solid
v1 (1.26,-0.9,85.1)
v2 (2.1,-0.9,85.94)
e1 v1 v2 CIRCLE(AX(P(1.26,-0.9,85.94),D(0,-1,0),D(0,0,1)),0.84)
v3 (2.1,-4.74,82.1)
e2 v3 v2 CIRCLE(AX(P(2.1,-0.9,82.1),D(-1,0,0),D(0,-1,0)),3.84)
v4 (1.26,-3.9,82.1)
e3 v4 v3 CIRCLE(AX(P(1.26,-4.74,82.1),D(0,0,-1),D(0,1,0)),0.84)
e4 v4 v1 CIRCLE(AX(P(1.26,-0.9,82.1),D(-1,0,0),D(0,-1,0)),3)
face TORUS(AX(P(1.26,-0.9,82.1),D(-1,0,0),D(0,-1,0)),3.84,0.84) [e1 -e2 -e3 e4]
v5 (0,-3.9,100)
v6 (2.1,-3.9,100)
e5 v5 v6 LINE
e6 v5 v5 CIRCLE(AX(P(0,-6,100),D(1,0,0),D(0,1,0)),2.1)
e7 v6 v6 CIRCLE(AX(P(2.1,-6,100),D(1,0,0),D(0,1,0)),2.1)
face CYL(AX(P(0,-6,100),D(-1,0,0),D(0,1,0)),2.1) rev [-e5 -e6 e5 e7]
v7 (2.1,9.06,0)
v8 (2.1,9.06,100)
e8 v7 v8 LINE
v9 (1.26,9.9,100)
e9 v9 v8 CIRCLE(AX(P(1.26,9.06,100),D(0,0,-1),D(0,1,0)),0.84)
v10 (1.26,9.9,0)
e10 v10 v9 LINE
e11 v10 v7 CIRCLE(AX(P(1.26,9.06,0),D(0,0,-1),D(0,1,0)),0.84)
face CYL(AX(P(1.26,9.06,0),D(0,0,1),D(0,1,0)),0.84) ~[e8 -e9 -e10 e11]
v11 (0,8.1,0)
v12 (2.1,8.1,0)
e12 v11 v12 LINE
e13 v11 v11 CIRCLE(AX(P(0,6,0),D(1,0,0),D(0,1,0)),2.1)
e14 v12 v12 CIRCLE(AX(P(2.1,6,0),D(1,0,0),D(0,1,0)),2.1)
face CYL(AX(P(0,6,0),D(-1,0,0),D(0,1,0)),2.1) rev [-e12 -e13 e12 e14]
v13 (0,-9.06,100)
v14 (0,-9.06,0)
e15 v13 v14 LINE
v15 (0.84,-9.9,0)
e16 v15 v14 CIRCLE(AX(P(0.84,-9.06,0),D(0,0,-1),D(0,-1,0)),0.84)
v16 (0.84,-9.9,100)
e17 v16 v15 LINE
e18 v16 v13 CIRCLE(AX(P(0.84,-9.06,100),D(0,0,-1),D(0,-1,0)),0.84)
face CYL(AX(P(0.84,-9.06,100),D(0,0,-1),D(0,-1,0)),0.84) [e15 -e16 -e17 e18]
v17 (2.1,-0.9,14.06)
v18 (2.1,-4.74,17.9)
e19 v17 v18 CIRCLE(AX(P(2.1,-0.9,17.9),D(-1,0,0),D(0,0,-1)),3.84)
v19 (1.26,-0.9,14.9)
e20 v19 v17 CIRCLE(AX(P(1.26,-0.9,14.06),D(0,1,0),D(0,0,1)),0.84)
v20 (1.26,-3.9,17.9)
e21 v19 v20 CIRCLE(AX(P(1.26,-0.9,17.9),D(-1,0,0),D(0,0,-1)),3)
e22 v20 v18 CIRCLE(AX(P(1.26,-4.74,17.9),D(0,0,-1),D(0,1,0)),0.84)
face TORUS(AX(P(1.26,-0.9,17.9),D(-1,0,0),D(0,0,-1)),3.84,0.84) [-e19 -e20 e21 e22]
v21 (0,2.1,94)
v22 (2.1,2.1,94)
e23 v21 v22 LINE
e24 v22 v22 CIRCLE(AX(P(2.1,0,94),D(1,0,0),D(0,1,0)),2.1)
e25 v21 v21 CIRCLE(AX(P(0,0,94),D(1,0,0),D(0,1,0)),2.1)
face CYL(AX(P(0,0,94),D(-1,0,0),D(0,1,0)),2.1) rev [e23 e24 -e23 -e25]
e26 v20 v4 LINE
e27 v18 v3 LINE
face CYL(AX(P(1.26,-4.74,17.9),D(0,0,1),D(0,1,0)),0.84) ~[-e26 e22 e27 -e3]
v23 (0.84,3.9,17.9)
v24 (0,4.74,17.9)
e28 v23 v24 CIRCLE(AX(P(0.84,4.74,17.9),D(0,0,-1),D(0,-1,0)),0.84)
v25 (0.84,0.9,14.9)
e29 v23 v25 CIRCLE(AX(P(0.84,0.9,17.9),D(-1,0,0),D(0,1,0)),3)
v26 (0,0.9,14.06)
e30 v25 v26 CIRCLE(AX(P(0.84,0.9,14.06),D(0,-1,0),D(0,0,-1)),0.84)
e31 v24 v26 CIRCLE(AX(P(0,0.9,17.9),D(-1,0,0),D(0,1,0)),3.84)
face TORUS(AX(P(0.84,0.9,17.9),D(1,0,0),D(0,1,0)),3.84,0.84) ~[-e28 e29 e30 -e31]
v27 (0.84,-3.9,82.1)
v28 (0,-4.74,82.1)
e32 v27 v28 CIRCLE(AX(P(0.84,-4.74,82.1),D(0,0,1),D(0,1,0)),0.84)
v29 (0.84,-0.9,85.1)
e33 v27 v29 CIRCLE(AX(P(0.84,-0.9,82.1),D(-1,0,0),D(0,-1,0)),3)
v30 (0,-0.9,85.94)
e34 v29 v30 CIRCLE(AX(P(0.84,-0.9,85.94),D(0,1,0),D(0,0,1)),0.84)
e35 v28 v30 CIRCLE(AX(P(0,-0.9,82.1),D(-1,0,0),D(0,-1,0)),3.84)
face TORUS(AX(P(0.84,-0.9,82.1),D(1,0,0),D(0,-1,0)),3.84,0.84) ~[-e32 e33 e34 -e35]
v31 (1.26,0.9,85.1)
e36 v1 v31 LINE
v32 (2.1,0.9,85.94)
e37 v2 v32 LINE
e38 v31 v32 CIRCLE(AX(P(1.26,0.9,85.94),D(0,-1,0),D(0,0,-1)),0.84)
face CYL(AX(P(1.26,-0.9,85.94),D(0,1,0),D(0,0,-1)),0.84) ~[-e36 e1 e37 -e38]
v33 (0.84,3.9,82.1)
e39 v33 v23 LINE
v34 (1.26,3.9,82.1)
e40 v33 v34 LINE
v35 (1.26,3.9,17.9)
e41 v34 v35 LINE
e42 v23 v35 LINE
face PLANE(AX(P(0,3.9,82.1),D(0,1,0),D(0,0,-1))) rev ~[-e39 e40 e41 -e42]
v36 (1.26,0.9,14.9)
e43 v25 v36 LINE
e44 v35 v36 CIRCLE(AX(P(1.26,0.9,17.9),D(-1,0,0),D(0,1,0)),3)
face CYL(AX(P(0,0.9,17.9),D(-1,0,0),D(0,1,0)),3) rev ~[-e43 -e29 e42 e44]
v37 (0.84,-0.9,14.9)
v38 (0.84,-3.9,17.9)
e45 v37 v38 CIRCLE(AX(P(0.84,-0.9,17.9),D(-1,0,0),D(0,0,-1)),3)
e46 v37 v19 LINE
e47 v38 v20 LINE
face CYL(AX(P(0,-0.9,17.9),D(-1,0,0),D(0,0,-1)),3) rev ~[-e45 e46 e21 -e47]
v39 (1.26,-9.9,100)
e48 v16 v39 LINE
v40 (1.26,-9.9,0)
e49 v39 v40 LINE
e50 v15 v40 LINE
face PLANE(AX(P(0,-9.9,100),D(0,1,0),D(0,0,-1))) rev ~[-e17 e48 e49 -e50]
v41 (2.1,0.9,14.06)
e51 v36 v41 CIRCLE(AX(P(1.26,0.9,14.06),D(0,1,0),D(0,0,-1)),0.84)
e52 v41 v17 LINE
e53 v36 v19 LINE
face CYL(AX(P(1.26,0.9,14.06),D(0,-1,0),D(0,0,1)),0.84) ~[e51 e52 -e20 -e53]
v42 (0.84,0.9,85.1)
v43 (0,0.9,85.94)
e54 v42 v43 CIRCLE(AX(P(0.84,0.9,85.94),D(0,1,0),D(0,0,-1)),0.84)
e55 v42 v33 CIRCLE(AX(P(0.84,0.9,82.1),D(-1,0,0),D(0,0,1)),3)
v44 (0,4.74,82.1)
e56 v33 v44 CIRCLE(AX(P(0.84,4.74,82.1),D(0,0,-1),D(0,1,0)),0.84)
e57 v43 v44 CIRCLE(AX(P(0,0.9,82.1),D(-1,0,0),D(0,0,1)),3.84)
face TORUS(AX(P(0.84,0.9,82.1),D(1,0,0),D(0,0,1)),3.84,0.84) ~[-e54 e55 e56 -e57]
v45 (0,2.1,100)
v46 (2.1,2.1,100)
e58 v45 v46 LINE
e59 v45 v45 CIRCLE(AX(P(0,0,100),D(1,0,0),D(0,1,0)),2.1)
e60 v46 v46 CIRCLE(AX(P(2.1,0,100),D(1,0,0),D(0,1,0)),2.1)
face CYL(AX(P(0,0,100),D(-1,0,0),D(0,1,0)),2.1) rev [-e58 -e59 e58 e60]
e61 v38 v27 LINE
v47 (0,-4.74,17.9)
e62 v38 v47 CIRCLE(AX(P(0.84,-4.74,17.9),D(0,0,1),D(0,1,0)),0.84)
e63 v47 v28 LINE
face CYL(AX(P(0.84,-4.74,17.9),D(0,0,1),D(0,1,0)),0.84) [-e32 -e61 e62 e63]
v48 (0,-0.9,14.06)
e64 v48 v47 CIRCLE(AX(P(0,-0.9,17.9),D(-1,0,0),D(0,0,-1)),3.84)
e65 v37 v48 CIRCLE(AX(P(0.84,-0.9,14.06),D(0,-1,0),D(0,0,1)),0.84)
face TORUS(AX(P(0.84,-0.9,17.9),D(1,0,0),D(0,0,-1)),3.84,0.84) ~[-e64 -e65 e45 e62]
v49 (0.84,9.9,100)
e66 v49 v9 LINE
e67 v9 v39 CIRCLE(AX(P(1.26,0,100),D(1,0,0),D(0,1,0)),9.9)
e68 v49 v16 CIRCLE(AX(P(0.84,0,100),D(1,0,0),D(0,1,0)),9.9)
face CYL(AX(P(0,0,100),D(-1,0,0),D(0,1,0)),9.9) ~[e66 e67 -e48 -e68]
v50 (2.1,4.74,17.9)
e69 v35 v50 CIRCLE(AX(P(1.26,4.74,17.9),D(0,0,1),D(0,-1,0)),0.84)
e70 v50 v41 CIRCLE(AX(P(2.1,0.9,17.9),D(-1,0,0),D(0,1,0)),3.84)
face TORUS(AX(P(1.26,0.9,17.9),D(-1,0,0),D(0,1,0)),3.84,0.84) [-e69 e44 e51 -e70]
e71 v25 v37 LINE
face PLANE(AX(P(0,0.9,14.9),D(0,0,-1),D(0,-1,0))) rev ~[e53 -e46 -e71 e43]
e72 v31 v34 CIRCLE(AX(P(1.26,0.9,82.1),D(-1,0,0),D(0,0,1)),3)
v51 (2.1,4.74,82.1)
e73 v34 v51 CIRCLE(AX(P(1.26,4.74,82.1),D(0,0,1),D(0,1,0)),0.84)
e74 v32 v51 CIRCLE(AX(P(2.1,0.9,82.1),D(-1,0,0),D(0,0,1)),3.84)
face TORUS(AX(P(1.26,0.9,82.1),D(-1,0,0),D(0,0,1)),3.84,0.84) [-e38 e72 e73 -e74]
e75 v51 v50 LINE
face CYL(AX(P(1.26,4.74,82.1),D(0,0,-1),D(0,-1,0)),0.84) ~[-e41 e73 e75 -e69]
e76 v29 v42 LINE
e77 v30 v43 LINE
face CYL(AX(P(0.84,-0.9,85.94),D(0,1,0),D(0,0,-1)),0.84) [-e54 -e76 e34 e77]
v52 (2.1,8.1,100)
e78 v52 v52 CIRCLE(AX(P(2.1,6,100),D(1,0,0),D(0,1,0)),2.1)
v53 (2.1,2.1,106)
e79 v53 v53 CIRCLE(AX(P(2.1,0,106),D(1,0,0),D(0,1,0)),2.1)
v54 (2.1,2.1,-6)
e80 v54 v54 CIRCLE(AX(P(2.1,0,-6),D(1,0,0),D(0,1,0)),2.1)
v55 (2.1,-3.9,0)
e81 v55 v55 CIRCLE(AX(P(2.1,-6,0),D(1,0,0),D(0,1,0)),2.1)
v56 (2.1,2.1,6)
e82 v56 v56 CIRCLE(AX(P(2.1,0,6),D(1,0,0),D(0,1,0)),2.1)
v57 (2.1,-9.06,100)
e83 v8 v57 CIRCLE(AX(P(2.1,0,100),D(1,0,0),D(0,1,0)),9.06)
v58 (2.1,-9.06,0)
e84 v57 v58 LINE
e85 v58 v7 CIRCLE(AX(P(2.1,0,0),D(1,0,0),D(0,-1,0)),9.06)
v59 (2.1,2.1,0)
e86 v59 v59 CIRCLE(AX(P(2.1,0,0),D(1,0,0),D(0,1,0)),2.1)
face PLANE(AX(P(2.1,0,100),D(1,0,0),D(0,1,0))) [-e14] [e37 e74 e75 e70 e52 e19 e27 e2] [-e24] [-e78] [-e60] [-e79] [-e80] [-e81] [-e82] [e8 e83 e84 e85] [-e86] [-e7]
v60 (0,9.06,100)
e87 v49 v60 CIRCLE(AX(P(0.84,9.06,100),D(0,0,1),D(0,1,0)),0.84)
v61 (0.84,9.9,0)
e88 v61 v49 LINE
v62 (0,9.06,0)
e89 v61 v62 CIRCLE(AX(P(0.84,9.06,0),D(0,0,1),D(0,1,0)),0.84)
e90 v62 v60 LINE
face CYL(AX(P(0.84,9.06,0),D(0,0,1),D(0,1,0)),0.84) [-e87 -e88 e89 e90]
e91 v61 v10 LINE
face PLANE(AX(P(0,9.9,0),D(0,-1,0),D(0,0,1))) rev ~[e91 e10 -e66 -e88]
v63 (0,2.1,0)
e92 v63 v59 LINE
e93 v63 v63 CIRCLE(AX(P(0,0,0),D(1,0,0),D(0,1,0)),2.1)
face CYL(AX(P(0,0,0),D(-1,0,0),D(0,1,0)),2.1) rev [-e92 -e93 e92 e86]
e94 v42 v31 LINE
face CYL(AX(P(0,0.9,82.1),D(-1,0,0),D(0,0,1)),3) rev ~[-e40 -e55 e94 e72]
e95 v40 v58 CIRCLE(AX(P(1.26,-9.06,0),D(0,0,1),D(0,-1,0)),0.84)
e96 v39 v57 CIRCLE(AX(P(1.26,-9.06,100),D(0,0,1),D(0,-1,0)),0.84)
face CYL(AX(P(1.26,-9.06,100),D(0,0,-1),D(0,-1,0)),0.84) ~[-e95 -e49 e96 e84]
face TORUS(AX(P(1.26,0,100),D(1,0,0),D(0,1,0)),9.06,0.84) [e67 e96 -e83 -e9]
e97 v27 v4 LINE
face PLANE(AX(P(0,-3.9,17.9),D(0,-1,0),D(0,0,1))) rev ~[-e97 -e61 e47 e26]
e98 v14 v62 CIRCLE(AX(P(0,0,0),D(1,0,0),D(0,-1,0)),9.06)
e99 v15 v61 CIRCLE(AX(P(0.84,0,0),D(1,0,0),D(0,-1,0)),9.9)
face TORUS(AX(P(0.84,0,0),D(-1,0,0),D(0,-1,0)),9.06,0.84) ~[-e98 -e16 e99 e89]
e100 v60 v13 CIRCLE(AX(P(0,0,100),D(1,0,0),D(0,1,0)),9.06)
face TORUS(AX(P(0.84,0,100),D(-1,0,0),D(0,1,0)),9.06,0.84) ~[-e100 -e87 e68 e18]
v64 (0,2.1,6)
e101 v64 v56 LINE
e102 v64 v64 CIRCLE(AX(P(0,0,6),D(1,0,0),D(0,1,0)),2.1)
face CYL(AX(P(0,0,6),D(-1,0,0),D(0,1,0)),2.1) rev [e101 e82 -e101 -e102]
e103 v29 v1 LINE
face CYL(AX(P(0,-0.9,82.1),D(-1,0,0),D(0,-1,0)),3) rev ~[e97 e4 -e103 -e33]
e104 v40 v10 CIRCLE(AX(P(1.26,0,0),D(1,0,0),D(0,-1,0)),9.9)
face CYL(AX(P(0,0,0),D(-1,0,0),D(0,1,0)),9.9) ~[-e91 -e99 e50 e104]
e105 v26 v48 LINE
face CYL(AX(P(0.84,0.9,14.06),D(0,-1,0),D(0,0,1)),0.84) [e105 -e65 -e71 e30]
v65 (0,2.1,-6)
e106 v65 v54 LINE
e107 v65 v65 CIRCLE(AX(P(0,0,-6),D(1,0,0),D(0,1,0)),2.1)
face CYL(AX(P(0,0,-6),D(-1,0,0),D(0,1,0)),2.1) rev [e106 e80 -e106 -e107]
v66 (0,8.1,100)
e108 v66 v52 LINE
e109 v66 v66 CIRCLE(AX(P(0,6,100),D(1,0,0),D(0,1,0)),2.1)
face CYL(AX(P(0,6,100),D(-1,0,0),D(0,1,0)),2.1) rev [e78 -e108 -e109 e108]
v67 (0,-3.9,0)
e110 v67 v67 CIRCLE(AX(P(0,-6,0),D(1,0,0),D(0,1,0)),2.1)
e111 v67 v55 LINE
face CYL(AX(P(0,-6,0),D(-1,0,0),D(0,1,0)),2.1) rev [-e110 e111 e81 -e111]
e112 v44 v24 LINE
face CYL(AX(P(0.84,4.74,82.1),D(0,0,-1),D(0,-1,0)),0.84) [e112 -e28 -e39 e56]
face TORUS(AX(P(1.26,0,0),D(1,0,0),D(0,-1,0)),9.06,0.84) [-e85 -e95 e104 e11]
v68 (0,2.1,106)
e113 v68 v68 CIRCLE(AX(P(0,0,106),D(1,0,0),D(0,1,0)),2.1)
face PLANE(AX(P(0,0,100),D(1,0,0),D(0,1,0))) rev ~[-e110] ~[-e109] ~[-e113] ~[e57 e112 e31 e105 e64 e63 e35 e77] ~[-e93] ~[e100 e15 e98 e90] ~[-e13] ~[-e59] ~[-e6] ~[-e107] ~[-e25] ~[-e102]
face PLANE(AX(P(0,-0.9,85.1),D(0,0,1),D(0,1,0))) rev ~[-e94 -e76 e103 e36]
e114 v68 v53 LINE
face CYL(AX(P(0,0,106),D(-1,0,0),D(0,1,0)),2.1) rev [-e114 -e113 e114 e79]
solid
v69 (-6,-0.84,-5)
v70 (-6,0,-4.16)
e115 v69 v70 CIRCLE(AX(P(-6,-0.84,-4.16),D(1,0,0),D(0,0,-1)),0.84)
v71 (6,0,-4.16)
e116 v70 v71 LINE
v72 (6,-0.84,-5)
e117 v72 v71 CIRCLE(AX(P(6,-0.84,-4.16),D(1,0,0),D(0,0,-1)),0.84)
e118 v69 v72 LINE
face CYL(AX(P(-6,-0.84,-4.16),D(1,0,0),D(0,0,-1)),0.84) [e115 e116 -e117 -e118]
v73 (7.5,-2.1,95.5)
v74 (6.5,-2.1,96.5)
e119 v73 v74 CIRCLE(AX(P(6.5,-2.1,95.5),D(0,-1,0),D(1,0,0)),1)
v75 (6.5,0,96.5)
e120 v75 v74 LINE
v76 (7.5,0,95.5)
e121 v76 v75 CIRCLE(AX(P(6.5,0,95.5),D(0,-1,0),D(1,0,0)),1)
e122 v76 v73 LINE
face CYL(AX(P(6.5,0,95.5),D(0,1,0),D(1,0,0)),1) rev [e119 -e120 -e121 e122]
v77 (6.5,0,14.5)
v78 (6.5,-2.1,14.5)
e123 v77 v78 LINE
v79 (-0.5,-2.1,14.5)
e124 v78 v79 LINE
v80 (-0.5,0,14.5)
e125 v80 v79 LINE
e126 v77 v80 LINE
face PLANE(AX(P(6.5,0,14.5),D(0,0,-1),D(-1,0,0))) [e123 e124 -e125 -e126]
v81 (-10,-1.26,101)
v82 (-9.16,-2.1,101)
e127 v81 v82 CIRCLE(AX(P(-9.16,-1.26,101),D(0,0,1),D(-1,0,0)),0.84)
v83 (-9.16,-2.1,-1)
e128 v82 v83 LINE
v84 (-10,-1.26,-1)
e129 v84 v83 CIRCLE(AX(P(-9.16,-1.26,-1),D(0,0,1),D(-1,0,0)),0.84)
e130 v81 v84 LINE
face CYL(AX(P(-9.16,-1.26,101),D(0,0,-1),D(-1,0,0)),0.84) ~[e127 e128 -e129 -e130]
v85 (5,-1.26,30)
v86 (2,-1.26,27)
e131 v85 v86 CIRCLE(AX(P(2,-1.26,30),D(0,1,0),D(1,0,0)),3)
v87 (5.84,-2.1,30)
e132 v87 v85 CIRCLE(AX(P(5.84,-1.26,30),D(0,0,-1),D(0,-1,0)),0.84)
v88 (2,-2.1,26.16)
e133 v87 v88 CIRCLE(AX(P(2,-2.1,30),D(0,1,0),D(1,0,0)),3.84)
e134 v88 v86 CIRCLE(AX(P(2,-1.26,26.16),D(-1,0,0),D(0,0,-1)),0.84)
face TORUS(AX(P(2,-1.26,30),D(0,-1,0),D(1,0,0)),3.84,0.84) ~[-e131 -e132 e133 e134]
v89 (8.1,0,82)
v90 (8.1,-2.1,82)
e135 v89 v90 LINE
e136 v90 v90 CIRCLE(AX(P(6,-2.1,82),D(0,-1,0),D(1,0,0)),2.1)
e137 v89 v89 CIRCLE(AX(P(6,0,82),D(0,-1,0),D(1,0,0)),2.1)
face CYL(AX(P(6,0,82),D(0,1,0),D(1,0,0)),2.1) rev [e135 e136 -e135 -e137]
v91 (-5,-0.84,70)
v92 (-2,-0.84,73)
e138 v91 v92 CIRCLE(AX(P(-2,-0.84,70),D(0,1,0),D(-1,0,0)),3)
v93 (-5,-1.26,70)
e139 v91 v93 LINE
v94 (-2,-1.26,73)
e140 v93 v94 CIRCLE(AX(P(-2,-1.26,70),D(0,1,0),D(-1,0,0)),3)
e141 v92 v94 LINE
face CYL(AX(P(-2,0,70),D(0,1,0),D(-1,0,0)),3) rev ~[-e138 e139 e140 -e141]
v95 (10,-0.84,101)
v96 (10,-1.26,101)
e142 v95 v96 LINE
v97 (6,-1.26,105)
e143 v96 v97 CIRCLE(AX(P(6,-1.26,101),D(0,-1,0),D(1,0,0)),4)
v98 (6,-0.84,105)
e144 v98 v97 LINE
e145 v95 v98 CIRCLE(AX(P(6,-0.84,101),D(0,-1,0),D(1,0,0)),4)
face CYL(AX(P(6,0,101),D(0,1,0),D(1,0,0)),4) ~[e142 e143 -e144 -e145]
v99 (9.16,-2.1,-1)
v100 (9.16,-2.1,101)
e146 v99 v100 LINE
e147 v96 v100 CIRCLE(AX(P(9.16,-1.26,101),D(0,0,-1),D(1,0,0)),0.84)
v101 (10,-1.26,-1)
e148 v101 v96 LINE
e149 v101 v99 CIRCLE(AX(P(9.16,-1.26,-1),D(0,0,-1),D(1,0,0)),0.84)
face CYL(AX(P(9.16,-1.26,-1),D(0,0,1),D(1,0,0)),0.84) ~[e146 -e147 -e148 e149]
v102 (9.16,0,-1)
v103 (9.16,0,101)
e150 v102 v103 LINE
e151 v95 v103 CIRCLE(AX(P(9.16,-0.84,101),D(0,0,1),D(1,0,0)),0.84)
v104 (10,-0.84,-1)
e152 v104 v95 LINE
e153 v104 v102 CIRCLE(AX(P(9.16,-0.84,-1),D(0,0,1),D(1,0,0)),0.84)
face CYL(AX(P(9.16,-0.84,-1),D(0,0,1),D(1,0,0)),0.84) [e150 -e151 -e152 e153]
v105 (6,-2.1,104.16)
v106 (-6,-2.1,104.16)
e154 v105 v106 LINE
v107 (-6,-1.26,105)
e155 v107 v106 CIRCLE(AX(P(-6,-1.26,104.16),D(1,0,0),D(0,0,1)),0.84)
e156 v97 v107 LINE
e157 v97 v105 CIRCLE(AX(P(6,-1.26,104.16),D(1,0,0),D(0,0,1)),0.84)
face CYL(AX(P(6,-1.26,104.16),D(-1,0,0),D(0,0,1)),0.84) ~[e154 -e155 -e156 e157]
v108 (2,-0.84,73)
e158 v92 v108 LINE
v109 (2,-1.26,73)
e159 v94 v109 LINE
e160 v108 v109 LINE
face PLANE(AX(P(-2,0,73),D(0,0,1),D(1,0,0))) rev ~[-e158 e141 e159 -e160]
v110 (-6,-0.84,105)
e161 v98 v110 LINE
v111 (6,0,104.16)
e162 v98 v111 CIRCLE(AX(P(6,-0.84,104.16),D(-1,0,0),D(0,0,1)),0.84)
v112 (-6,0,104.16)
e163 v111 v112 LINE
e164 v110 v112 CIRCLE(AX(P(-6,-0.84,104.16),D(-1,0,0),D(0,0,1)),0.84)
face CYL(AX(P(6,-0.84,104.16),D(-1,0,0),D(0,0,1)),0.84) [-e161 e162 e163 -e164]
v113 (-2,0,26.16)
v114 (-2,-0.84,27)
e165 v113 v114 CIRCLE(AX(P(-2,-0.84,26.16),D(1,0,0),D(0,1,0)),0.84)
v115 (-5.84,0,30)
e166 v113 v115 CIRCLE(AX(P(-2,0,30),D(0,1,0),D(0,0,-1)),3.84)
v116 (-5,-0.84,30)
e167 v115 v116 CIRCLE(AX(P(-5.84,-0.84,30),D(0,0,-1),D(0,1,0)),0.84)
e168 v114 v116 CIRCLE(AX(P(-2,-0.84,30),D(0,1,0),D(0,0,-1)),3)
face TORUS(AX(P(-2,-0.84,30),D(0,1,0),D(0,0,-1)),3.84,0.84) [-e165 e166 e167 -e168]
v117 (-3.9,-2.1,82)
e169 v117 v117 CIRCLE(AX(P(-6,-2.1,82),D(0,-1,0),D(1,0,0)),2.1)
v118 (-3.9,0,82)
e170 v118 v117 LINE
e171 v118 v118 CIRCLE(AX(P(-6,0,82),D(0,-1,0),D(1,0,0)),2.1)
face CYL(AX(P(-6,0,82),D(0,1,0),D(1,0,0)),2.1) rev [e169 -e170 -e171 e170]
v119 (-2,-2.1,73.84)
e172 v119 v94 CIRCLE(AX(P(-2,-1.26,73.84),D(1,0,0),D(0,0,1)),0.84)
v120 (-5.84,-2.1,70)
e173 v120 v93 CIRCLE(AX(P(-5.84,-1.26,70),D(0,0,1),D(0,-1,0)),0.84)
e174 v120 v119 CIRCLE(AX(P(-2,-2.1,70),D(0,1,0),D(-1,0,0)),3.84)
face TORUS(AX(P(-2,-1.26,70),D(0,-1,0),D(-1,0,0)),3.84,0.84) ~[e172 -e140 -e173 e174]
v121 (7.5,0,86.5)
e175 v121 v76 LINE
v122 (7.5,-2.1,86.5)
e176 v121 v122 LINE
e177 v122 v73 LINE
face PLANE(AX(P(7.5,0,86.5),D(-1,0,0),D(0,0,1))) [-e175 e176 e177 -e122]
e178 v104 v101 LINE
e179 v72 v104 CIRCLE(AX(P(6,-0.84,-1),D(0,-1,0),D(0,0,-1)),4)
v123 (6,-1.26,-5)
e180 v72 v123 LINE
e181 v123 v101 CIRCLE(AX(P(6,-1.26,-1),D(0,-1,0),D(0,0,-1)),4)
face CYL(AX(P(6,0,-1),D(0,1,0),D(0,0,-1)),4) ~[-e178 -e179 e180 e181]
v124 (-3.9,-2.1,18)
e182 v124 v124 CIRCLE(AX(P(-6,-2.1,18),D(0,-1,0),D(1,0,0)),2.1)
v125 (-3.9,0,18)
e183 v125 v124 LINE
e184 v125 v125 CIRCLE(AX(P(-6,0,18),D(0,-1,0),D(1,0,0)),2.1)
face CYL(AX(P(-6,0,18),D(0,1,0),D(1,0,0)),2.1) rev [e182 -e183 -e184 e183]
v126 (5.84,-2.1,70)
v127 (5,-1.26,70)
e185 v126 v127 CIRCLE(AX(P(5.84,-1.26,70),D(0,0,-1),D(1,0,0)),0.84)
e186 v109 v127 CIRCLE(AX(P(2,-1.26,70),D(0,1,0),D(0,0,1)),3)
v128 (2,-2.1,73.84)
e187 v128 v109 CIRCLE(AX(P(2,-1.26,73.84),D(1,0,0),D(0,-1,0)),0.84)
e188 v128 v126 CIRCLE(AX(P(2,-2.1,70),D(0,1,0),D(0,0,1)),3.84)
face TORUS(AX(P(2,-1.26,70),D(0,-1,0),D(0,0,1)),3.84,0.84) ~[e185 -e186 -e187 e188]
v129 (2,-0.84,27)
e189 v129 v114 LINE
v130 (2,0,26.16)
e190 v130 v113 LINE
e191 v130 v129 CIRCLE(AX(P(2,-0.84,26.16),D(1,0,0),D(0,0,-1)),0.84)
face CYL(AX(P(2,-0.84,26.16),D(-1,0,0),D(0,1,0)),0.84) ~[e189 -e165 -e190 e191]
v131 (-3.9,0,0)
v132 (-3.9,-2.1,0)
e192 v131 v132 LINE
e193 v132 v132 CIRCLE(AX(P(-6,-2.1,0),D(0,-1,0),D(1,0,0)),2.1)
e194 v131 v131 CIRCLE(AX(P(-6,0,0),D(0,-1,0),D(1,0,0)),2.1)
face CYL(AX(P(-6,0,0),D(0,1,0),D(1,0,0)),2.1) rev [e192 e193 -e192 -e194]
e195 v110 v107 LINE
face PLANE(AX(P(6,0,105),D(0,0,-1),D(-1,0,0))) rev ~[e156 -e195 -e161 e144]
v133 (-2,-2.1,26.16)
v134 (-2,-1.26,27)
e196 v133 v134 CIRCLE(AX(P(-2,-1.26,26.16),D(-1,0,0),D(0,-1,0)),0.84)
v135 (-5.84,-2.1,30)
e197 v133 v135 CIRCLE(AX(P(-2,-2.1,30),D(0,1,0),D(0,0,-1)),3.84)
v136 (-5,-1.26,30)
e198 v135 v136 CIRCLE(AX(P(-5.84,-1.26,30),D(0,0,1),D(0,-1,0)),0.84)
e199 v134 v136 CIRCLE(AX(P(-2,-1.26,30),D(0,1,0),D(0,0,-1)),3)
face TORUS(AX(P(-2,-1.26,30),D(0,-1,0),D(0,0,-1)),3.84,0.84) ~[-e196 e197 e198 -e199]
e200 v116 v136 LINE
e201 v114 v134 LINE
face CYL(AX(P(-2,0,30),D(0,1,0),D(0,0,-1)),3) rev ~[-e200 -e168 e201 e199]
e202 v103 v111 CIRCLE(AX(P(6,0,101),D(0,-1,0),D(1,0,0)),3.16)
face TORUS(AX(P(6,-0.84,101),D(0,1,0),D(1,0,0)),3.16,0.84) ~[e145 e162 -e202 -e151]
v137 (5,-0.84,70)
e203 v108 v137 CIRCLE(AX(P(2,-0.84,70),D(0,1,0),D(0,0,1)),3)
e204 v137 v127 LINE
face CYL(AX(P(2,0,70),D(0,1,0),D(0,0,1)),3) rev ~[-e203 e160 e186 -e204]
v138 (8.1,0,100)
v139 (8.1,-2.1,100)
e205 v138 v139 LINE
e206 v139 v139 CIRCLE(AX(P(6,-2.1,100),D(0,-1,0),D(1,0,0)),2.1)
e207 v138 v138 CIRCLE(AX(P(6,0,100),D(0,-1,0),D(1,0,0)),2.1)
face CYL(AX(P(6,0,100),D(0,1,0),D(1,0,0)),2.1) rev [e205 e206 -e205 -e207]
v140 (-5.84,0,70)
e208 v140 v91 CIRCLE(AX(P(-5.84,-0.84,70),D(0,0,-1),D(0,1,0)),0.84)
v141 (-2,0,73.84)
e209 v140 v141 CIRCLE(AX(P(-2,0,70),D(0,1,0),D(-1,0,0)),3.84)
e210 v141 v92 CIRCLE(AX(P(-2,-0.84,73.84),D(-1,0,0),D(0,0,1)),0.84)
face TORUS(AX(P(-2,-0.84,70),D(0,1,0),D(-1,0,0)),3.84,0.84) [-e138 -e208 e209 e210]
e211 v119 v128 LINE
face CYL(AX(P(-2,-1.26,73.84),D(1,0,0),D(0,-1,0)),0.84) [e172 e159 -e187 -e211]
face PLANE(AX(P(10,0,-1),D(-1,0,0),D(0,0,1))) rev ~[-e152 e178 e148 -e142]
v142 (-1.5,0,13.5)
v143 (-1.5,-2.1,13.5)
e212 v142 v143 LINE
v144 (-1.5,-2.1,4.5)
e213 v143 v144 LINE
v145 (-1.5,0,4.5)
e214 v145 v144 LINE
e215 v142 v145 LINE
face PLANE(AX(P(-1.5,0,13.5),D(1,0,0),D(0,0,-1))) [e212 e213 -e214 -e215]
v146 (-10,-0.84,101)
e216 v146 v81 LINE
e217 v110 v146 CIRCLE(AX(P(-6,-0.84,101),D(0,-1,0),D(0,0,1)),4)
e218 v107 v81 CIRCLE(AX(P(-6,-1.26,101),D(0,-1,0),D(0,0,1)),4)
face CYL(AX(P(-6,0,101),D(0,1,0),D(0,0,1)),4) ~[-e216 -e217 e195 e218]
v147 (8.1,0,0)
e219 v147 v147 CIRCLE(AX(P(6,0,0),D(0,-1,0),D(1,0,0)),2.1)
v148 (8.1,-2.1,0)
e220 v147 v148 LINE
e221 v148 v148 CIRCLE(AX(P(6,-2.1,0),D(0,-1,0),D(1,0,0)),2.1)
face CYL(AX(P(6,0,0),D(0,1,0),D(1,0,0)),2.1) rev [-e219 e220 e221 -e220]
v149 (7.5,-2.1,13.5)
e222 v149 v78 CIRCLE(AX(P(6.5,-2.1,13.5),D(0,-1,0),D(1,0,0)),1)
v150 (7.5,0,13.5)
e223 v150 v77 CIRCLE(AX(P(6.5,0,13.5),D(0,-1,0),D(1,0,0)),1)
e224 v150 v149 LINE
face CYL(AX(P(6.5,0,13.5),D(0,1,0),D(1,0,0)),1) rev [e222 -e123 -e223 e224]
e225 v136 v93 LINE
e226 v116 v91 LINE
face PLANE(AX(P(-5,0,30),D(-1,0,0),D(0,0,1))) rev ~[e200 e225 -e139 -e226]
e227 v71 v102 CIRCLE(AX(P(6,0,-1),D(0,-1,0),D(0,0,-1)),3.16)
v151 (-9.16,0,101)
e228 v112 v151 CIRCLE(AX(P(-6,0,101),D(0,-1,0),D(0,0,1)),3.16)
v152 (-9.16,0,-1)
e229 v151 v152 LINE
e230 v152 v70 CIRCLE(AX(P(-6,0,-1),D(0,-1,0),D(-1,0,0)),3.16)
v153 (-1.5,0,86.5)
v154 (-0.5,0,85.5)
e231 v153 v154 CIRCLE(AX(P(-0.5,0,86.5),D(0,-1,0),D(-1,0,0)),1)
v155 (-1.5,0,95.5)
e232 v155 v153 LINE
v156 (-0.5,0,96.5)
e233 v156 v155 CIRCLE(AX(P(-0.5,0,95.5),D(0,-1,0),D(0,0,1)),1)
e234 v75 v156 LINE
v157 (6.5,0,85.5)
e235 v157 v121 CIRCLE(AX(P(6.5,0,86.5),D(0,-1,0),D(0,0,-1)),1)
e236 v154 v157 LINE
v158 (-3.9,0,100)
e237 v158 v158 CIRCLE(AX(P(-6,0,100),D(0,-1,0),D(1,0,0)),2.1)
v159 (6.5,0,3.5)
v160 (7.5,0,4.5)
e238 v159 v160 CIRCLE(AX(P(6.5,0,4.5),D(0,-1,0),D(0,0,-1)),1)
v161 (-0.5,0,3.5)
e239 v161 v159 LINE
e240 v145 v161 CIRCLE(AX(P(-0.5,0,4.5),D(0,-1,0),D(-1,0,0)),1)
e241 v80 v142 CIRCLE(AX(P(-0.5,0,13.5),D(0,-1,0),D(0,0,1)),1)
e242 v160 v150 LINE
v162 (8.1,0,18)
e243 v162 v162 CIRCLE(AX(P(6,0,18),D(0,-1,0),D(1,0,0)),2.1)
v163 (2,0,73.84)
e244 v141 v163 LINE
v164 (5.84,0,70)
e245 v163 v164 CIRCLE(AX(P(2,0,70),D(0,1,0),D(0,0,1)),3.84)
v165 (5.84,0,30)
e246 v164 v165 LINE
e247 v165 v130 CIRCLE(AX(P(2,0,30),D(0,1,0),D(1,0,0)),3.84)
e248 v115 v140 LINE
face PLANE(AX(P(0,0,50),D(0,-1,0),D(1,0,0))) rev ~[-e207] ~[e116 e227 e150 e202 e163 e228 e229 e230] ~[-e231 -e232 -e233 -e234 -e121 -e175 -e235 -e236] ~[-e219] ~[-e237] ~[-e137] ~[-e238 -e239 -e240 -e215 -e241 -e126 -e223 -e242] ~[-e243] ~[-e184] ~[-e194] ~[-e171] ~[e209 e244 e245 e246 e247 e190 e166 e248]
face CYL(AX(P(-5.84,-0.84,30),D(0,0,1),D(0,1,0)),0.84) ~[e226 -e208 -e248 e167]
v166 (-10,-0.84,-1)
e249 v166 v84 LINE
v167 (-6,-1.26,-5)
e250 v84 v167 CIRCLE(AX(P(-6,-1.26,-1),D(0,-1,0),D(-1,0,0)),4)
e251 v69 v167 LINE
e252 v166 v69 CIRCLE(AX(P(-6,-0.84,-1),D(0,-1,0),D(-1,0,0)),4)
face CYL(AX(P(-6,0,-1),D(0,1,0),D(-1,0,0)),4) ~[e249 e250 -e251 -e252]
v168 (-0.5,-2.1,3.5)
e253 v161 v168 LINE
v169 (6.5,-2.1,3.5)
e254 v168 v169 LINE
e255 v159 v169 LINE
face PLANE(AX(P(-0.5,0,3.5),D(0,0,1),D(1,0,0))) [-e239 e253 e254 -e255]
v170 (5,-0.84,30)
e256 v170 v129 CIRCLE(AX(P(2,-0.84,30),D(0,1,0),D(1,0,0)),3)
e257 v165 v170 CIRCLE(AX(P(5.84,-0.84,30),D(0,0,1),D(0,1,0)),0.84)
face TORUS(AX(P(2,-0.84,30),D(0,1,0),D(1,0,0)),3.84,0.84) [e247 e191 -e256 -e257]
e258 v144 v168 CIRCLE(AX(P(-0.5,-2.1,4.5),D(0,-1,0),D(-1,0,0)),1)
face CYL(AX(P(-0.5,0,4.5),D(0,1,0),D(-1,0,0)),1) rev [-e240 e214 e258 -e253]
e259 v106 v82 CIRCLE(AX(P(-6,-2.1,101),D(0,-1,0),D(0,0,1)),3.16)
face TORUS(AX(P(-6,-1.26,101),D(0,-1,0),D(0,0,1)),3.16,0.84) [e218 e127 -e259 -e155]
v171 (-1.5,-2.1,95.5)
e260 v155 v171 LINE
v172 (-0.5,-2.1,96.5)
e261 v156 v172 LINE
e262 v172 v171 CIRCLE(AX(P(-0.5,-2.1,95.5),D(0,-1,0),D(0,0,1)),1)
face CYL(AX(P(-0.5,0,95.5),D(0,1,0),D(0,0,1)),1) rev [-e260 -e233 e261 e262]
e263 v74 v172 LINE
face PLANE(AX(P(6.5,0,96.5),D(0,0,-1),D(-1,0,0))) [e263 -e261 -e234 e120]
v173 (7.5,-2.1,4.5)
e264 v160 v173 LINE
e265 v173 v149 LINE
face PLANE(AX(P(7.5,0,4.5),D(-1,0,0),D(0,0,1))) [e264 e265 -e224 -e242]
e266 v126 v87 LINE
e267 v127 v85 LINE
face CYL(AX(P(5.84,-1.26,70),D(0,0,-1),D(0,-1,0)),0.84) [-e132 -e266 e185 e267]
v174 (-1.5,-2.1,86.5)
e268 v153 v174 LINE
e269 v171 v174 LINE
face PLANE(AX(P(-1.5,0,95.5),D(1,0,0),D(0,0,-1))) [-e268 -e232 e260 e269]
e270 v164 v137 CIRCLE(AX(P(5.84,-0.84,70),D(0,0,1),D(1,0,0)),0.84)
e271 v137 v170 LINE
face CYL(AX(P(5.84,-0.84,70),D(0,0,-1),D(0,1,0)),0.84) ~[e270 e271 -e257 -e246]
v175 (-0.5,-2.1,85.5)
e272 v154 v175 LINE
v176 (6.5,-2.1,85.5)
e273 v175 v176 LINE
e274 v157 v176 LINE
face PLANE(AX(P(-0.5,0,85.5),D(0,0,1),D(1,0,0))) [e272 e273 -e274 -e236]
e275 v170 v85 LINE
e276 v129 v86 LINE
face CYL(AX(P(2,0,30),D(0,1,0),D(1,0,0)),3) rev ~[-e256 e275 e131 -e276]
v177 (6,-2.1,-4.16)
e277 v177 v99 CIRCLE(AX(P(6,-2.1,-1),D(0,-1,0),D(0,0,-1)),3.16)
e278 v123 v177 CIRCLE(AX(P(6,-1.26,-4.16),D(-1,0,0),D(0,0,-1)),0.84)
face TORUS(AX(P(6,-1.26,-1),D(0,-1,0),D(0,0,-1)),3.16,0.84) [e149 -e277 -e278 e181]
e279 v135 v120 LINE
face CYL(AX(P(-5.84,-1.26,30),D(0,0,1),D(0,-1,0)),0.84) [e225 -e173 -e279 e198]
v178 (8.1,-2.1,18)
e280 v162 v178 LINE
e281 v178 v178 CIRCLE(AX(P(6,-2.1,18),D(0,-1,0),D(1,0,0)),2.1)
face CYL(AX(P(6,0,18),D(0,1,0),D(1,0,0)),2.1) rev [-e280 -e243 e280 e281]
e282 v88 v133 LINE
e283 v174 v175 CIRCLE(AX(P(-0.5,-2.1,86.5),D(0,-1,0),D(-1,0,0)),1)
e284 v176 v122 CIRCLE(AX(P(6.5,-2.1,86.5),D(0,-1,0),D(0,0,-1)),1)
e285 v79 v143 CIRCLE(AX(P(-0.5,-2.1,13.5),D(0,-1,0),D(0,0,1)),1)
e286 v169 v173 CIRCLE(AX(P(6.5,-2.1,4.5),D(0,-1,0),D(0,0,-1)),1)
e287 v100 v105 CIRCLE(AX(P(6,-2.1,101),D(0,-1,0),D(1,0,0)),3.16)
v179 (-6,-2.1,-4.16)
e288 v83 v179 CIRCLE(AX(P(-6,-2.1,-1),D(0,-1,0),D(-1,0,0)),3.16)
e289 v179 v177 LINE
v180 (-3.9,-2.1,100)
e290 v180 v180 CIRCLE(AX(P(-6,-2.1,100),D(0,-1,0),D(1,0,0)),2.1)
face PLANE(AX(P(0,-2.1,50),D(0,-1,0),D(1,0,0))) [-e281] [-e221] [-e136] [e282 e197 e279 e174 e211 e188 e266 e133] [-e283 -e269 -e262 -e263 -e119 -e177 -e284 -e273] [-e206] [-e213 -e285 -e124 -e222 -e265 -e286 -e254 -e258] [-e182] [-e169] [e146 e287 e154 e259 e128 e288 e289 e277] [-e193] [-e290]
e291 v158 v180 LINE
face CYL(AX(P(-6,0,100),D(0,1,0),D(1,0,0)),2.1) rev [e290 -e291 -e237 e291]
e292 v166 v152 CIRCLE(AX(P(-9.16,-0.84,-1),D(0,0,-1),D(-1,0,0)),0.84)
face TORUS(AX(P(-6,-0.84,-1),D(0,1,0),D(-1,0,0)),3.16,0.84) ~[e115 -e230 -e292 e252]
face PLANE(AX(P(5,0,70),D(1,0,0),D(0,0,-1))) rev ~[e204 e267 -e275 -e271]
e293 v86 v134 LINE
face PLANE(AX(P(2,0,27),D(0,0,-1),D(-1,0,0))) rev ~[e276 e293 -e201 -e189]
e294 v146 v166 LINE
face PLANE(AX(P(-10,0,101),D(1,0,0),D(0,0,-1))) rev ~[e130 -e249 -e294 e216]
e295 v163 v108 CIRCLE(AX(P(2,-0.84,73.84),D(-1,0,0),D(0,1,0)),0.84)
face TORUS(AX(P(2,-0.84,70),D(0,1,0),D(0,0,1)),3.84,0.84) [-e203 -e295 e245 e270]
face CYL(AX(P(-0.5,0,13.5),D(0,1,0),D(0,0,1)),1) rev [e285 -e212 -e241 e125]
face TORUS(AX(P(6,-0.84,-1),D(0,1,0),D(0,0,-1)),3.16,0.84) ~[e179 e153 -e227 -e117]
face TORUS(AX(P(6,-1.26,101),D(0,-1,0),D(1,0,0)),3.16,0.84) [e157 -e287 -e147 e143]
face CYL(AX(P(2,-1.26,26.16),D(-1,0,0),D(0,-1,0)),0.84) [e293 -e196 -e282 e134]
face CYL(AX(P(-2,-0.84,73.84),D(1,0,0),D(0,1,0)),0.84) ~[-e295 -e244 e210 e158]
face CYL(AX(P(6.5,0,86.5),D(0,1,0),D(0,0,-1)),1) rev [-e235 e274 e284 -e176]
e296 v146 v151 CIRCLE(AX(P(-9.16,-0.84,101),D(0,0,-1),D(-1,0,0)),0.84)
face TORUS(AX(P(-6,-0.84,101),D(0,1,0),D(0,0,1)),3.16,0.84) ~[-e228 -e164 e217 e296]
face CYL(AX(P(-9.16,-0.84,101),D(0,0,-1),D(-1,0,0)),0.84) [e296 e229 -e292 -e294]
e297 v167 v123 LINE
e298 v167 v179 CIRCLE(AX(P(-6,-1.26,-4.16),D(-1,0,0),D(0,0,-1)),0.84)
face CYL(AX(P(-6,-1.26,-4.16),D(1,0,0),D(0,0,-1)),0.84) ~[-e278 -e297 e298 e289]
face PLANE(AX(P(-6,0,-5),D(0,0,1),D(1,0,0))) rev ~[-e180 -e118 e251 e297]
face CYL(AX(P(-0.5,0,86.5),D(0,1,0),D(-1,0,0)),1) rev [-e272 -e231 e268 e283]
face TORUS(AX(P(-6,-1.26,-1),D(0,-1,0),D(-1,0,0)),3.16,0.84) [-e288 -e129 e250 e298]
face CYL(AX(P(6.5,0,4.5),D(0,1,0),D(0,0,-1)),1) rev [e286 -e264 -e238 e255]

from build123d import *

# Parameters (mm, degrees)
F4_R      = 2.1
F5_DEPTH  = 2.1
F7_DEPTH  = 2.1
F8_R      = 0.84
F9_R      = 2.1
F10_DEPTH = 2.1
F11_R     = 0.84


with BuildPart() as f5:
    # F4 (on Front) → F5 (new body)
    with BuildSketch(Plane.XZ):
        with BuildLine():
            ThreePointArc((10, 101), (8.8284271247, 103.8284271247), (6, 105))
            Line((6, 105), (-6, 105))
            ThreePointArc((-6, 105), (-8.8284271247, 103.8284271247), (-10, 101))
            Line((-10, 101), (-10, -1))
            ThreePointArc((-10, -1), (-8.8284271247, -3.8284271247), (-6, -5))
            Line((-6, -5), (6, -5))
            ThreePointArc((6, -5), (8.8284271247, -3.8284271247), (10, -1))
            Line((10, -1), (10, 101))
        make_face()
        with Locations((-6, 0)):
            Circle(F4_R, mode=Mode.SUBTRACT)
        with Locations((-6, 18)):
            Circle(F4_R, mode=Mode.SUBTRACT)
        with Locations((6, 0)):
            Circle(F4_R, mode=Mode.SUBTRACT)
        with Locations((6, 18)):
            Circle(F4_R, mode=Mode.SUBTRACT)
        with BuildLine():
            ThreePointArc((5, 30), (4.1213203436, 27.8786796564), (2, 27))
            Line((2, 27), (-2, 27))
            ThreePointArc((-2, 27), (-4.1213203436, 27.8786796564), (-5, 30))
            Line((-5, 30), (-5, 70))
            ThreePointArc((-5, 70), (-4.1213203436, 72.1213203436), (-2, 73))
            Line((-2, 73), (2, 73))
            ThreePointArc((2, 73), (4.1213203436, 72.1213203436), (5, 70))
            Line((5, 70), (5, 30))
        make_face(mode=Mode.SUBTRACT)
        with Locations((-6, 82)):
            Circle(F4_R, mode=Mode.SUBTRACT)
        with Locations((-6, 100)):
            Circle(F4_R, mode=Mode.SUBTRACT)
        with Locations((6, 82)):
            Circle(F4_R, mode=Mode.SUBTRACT)
        with Locations((6, 100)):
            Circle(F4_R, mode=Mode.SUBTRACT)
    extrude(amount=F5_DEPTH)

    # F6 (on Front) → F7 (cut, through all)
    with BuildSketch(Plane.XZ):
        with BuildLine():
            Line((6.5, 14.5), (-0.5, 14.5))
            ThreePointArc((-0.5, 14.5), (-1.2071067812, 14.2071067812), (-1.5, 13.5))
            Line((-1.5, 13.5), (-1.5, 4.5))
            ThreePointArc((-1.5, 4.5), (-1.2071067812, 3.7928932188), (-0.5, 3.5))
            Line((-0.5, 3.5), (6.5, 3.5))
            ThreePointArc((6.5, 3.5), (7.2071067812, 3.7928932188), (7.5, 4.5))
            Line((7.5, 4.5), (7.5, 13.5))
            ThreePointArc((7.5, 13.5), (7.2071067812, 14.2071067812), (6.5, 14.5))
        make_face()
        with BuildLine():
            ThreePointArc((-1.5, 86.5), (-1.2071067812, 85.7928932188), (-0.5, 85.5))
            Line((-0.5, 85.5), (6.5, 85.5))
            ThreePointArc((6.5, 85.5), (7.2071067812, 85.7928932188), (7.5, 86.5))
            Line((7.5, 86.5), (7.5, 95.5))
            ThreePointArc((7.5, 95.5), (7.2071067812, 96.2071067812), (6.5, 96.5))
            Line((6.5, 96.5), (-0.5, 96.5))
            ThreePointArc((-0.5, 96.5), (-1.2071067812, 96.2071067812), (-1.5, 95.5))
            Line((-1.5, 95.5), (-1.5, 86.5))
        make_face()
    extrude(amount=F7_DEPTH, mode=Mode.SUBTRACT)

    # F8
    f8_edges = [f5.edges().sort_by_distance(p)[0] for p in [
        (10, -1.05, -1),
        (10, -1.05, 101),
        (10, 0, 50),
        (10, -2.1, 50),
        (-5, -1.05, 30),
        (-5, -1.05, 70),
        (-5, 0, 50),
        (-5, -2.1, 50),
    ]]
    fillet(f8_edges, radius=F8_R)


with BuildPart() as f10:
    # F9 (on Right) → F10 (new body)
    with BuildSketch(Plane.YZ):
        with BuildLine():
            ThreePointArc((-9.9, 100), (0, 90.1), (9.9, 100))
            ThreePointArc((9.9, 100), (0, 109.9), (-9.9, 100))
        make_face()
        with Locations((-6, 100)):
            Circle(F9_R, mode=Mode.SUBTRACT)
        with Locations((0, 94)):
            Circle(F9_R, mode=Mode.SUBTRACT)
        with Locations((0, 100)):
            Circle(F9_R, mode=Mode.SUBTRACT)
        with Locations((0, 106)):
            Circle(F9_R, mode=Mode.SUBTRACT)
        with Locations((6, 100)):
            Circle(F9_R, mode=Mode.SUBTRACT)
        with BuildLine():
            Line((9.9, 0), (9.9, 100))
            ThreePointArc((9.9, 100), (0, 90.1), (-9.9, 100))
            Line((-9.9, 100), (-9.9, 0))
            ThreePointArc((-9.9, 0), (0, 9.9), (9.9, 0))
        make_face()
        with BuildLine():
            ThreePointArc((3.9, 17.9), (3.0213203436, 15.7786796564), (0.9, 14.9))
            Line((0.9, 14.9), (-0.9, 14.9))
            ThreePointArc((-0.9, 14.9), (-3.0213203436, 15.7786796564), (-3.9, 17.9))
            Line((-3.9, 17.9), (-3.9, 82.1))
            ThreePointArc((-3.9, 82.1), (-3.0213203436, 84.2213203436), (-0.9, 85.1))
            Line((-0.9, 85.1), (0.9, 85.1))
            ThreePointArc((0.9, 85.1), (3.0213203436, 84.2213203436), (3.9, 82.1))
            Line((3.9, 82.1), (3.9, 17.9))
        make_face(mode=Mode.SUBTRACT)
        with BuildLine():
            ThreePointArc((-9.9, 0), (0, -9.9), (9.9, 0))
            ThreePointArc((9.9, 0), (0, 9.9), (-9.9, 0))
        make_face()
        with Locations((-6, 0)):
            Circle(F9_R, mode=Mode.SUBTRACT)
        with Locations((0, -6)):
            Circle(F9_R, mode=Mode.SUBTRACT)
        Circle(F9_R, mode=Mode.SUBTRACT)
        with Locations((0, 6)):
            Circle(F9_R, mode=Mode.SUBTRACT)
        with Locations((6, 0)):
            Circle(F9_R, mode=Mode.SUBTRACT)
    extrude(amount=F10_DEPTH)

    # F11
    f11_edges = [f10.edges().sort_by_distance(p)[0] for p in [
        (1.05, 9.9, 0),
        (1.05, 9.9, 100),
        (0, 9.9, 50),
        (2.1, 9.9, 50),
        (1.05, -3.9, 17.9),
        (1.05, -3.9, 82.1),
        (0, -3.9, 50),
        (2.1, -3.9, 50),
    ]]
    fillet(f11_edges, radius=F11_R)


solid = Compound([f5.part, f10.part])
